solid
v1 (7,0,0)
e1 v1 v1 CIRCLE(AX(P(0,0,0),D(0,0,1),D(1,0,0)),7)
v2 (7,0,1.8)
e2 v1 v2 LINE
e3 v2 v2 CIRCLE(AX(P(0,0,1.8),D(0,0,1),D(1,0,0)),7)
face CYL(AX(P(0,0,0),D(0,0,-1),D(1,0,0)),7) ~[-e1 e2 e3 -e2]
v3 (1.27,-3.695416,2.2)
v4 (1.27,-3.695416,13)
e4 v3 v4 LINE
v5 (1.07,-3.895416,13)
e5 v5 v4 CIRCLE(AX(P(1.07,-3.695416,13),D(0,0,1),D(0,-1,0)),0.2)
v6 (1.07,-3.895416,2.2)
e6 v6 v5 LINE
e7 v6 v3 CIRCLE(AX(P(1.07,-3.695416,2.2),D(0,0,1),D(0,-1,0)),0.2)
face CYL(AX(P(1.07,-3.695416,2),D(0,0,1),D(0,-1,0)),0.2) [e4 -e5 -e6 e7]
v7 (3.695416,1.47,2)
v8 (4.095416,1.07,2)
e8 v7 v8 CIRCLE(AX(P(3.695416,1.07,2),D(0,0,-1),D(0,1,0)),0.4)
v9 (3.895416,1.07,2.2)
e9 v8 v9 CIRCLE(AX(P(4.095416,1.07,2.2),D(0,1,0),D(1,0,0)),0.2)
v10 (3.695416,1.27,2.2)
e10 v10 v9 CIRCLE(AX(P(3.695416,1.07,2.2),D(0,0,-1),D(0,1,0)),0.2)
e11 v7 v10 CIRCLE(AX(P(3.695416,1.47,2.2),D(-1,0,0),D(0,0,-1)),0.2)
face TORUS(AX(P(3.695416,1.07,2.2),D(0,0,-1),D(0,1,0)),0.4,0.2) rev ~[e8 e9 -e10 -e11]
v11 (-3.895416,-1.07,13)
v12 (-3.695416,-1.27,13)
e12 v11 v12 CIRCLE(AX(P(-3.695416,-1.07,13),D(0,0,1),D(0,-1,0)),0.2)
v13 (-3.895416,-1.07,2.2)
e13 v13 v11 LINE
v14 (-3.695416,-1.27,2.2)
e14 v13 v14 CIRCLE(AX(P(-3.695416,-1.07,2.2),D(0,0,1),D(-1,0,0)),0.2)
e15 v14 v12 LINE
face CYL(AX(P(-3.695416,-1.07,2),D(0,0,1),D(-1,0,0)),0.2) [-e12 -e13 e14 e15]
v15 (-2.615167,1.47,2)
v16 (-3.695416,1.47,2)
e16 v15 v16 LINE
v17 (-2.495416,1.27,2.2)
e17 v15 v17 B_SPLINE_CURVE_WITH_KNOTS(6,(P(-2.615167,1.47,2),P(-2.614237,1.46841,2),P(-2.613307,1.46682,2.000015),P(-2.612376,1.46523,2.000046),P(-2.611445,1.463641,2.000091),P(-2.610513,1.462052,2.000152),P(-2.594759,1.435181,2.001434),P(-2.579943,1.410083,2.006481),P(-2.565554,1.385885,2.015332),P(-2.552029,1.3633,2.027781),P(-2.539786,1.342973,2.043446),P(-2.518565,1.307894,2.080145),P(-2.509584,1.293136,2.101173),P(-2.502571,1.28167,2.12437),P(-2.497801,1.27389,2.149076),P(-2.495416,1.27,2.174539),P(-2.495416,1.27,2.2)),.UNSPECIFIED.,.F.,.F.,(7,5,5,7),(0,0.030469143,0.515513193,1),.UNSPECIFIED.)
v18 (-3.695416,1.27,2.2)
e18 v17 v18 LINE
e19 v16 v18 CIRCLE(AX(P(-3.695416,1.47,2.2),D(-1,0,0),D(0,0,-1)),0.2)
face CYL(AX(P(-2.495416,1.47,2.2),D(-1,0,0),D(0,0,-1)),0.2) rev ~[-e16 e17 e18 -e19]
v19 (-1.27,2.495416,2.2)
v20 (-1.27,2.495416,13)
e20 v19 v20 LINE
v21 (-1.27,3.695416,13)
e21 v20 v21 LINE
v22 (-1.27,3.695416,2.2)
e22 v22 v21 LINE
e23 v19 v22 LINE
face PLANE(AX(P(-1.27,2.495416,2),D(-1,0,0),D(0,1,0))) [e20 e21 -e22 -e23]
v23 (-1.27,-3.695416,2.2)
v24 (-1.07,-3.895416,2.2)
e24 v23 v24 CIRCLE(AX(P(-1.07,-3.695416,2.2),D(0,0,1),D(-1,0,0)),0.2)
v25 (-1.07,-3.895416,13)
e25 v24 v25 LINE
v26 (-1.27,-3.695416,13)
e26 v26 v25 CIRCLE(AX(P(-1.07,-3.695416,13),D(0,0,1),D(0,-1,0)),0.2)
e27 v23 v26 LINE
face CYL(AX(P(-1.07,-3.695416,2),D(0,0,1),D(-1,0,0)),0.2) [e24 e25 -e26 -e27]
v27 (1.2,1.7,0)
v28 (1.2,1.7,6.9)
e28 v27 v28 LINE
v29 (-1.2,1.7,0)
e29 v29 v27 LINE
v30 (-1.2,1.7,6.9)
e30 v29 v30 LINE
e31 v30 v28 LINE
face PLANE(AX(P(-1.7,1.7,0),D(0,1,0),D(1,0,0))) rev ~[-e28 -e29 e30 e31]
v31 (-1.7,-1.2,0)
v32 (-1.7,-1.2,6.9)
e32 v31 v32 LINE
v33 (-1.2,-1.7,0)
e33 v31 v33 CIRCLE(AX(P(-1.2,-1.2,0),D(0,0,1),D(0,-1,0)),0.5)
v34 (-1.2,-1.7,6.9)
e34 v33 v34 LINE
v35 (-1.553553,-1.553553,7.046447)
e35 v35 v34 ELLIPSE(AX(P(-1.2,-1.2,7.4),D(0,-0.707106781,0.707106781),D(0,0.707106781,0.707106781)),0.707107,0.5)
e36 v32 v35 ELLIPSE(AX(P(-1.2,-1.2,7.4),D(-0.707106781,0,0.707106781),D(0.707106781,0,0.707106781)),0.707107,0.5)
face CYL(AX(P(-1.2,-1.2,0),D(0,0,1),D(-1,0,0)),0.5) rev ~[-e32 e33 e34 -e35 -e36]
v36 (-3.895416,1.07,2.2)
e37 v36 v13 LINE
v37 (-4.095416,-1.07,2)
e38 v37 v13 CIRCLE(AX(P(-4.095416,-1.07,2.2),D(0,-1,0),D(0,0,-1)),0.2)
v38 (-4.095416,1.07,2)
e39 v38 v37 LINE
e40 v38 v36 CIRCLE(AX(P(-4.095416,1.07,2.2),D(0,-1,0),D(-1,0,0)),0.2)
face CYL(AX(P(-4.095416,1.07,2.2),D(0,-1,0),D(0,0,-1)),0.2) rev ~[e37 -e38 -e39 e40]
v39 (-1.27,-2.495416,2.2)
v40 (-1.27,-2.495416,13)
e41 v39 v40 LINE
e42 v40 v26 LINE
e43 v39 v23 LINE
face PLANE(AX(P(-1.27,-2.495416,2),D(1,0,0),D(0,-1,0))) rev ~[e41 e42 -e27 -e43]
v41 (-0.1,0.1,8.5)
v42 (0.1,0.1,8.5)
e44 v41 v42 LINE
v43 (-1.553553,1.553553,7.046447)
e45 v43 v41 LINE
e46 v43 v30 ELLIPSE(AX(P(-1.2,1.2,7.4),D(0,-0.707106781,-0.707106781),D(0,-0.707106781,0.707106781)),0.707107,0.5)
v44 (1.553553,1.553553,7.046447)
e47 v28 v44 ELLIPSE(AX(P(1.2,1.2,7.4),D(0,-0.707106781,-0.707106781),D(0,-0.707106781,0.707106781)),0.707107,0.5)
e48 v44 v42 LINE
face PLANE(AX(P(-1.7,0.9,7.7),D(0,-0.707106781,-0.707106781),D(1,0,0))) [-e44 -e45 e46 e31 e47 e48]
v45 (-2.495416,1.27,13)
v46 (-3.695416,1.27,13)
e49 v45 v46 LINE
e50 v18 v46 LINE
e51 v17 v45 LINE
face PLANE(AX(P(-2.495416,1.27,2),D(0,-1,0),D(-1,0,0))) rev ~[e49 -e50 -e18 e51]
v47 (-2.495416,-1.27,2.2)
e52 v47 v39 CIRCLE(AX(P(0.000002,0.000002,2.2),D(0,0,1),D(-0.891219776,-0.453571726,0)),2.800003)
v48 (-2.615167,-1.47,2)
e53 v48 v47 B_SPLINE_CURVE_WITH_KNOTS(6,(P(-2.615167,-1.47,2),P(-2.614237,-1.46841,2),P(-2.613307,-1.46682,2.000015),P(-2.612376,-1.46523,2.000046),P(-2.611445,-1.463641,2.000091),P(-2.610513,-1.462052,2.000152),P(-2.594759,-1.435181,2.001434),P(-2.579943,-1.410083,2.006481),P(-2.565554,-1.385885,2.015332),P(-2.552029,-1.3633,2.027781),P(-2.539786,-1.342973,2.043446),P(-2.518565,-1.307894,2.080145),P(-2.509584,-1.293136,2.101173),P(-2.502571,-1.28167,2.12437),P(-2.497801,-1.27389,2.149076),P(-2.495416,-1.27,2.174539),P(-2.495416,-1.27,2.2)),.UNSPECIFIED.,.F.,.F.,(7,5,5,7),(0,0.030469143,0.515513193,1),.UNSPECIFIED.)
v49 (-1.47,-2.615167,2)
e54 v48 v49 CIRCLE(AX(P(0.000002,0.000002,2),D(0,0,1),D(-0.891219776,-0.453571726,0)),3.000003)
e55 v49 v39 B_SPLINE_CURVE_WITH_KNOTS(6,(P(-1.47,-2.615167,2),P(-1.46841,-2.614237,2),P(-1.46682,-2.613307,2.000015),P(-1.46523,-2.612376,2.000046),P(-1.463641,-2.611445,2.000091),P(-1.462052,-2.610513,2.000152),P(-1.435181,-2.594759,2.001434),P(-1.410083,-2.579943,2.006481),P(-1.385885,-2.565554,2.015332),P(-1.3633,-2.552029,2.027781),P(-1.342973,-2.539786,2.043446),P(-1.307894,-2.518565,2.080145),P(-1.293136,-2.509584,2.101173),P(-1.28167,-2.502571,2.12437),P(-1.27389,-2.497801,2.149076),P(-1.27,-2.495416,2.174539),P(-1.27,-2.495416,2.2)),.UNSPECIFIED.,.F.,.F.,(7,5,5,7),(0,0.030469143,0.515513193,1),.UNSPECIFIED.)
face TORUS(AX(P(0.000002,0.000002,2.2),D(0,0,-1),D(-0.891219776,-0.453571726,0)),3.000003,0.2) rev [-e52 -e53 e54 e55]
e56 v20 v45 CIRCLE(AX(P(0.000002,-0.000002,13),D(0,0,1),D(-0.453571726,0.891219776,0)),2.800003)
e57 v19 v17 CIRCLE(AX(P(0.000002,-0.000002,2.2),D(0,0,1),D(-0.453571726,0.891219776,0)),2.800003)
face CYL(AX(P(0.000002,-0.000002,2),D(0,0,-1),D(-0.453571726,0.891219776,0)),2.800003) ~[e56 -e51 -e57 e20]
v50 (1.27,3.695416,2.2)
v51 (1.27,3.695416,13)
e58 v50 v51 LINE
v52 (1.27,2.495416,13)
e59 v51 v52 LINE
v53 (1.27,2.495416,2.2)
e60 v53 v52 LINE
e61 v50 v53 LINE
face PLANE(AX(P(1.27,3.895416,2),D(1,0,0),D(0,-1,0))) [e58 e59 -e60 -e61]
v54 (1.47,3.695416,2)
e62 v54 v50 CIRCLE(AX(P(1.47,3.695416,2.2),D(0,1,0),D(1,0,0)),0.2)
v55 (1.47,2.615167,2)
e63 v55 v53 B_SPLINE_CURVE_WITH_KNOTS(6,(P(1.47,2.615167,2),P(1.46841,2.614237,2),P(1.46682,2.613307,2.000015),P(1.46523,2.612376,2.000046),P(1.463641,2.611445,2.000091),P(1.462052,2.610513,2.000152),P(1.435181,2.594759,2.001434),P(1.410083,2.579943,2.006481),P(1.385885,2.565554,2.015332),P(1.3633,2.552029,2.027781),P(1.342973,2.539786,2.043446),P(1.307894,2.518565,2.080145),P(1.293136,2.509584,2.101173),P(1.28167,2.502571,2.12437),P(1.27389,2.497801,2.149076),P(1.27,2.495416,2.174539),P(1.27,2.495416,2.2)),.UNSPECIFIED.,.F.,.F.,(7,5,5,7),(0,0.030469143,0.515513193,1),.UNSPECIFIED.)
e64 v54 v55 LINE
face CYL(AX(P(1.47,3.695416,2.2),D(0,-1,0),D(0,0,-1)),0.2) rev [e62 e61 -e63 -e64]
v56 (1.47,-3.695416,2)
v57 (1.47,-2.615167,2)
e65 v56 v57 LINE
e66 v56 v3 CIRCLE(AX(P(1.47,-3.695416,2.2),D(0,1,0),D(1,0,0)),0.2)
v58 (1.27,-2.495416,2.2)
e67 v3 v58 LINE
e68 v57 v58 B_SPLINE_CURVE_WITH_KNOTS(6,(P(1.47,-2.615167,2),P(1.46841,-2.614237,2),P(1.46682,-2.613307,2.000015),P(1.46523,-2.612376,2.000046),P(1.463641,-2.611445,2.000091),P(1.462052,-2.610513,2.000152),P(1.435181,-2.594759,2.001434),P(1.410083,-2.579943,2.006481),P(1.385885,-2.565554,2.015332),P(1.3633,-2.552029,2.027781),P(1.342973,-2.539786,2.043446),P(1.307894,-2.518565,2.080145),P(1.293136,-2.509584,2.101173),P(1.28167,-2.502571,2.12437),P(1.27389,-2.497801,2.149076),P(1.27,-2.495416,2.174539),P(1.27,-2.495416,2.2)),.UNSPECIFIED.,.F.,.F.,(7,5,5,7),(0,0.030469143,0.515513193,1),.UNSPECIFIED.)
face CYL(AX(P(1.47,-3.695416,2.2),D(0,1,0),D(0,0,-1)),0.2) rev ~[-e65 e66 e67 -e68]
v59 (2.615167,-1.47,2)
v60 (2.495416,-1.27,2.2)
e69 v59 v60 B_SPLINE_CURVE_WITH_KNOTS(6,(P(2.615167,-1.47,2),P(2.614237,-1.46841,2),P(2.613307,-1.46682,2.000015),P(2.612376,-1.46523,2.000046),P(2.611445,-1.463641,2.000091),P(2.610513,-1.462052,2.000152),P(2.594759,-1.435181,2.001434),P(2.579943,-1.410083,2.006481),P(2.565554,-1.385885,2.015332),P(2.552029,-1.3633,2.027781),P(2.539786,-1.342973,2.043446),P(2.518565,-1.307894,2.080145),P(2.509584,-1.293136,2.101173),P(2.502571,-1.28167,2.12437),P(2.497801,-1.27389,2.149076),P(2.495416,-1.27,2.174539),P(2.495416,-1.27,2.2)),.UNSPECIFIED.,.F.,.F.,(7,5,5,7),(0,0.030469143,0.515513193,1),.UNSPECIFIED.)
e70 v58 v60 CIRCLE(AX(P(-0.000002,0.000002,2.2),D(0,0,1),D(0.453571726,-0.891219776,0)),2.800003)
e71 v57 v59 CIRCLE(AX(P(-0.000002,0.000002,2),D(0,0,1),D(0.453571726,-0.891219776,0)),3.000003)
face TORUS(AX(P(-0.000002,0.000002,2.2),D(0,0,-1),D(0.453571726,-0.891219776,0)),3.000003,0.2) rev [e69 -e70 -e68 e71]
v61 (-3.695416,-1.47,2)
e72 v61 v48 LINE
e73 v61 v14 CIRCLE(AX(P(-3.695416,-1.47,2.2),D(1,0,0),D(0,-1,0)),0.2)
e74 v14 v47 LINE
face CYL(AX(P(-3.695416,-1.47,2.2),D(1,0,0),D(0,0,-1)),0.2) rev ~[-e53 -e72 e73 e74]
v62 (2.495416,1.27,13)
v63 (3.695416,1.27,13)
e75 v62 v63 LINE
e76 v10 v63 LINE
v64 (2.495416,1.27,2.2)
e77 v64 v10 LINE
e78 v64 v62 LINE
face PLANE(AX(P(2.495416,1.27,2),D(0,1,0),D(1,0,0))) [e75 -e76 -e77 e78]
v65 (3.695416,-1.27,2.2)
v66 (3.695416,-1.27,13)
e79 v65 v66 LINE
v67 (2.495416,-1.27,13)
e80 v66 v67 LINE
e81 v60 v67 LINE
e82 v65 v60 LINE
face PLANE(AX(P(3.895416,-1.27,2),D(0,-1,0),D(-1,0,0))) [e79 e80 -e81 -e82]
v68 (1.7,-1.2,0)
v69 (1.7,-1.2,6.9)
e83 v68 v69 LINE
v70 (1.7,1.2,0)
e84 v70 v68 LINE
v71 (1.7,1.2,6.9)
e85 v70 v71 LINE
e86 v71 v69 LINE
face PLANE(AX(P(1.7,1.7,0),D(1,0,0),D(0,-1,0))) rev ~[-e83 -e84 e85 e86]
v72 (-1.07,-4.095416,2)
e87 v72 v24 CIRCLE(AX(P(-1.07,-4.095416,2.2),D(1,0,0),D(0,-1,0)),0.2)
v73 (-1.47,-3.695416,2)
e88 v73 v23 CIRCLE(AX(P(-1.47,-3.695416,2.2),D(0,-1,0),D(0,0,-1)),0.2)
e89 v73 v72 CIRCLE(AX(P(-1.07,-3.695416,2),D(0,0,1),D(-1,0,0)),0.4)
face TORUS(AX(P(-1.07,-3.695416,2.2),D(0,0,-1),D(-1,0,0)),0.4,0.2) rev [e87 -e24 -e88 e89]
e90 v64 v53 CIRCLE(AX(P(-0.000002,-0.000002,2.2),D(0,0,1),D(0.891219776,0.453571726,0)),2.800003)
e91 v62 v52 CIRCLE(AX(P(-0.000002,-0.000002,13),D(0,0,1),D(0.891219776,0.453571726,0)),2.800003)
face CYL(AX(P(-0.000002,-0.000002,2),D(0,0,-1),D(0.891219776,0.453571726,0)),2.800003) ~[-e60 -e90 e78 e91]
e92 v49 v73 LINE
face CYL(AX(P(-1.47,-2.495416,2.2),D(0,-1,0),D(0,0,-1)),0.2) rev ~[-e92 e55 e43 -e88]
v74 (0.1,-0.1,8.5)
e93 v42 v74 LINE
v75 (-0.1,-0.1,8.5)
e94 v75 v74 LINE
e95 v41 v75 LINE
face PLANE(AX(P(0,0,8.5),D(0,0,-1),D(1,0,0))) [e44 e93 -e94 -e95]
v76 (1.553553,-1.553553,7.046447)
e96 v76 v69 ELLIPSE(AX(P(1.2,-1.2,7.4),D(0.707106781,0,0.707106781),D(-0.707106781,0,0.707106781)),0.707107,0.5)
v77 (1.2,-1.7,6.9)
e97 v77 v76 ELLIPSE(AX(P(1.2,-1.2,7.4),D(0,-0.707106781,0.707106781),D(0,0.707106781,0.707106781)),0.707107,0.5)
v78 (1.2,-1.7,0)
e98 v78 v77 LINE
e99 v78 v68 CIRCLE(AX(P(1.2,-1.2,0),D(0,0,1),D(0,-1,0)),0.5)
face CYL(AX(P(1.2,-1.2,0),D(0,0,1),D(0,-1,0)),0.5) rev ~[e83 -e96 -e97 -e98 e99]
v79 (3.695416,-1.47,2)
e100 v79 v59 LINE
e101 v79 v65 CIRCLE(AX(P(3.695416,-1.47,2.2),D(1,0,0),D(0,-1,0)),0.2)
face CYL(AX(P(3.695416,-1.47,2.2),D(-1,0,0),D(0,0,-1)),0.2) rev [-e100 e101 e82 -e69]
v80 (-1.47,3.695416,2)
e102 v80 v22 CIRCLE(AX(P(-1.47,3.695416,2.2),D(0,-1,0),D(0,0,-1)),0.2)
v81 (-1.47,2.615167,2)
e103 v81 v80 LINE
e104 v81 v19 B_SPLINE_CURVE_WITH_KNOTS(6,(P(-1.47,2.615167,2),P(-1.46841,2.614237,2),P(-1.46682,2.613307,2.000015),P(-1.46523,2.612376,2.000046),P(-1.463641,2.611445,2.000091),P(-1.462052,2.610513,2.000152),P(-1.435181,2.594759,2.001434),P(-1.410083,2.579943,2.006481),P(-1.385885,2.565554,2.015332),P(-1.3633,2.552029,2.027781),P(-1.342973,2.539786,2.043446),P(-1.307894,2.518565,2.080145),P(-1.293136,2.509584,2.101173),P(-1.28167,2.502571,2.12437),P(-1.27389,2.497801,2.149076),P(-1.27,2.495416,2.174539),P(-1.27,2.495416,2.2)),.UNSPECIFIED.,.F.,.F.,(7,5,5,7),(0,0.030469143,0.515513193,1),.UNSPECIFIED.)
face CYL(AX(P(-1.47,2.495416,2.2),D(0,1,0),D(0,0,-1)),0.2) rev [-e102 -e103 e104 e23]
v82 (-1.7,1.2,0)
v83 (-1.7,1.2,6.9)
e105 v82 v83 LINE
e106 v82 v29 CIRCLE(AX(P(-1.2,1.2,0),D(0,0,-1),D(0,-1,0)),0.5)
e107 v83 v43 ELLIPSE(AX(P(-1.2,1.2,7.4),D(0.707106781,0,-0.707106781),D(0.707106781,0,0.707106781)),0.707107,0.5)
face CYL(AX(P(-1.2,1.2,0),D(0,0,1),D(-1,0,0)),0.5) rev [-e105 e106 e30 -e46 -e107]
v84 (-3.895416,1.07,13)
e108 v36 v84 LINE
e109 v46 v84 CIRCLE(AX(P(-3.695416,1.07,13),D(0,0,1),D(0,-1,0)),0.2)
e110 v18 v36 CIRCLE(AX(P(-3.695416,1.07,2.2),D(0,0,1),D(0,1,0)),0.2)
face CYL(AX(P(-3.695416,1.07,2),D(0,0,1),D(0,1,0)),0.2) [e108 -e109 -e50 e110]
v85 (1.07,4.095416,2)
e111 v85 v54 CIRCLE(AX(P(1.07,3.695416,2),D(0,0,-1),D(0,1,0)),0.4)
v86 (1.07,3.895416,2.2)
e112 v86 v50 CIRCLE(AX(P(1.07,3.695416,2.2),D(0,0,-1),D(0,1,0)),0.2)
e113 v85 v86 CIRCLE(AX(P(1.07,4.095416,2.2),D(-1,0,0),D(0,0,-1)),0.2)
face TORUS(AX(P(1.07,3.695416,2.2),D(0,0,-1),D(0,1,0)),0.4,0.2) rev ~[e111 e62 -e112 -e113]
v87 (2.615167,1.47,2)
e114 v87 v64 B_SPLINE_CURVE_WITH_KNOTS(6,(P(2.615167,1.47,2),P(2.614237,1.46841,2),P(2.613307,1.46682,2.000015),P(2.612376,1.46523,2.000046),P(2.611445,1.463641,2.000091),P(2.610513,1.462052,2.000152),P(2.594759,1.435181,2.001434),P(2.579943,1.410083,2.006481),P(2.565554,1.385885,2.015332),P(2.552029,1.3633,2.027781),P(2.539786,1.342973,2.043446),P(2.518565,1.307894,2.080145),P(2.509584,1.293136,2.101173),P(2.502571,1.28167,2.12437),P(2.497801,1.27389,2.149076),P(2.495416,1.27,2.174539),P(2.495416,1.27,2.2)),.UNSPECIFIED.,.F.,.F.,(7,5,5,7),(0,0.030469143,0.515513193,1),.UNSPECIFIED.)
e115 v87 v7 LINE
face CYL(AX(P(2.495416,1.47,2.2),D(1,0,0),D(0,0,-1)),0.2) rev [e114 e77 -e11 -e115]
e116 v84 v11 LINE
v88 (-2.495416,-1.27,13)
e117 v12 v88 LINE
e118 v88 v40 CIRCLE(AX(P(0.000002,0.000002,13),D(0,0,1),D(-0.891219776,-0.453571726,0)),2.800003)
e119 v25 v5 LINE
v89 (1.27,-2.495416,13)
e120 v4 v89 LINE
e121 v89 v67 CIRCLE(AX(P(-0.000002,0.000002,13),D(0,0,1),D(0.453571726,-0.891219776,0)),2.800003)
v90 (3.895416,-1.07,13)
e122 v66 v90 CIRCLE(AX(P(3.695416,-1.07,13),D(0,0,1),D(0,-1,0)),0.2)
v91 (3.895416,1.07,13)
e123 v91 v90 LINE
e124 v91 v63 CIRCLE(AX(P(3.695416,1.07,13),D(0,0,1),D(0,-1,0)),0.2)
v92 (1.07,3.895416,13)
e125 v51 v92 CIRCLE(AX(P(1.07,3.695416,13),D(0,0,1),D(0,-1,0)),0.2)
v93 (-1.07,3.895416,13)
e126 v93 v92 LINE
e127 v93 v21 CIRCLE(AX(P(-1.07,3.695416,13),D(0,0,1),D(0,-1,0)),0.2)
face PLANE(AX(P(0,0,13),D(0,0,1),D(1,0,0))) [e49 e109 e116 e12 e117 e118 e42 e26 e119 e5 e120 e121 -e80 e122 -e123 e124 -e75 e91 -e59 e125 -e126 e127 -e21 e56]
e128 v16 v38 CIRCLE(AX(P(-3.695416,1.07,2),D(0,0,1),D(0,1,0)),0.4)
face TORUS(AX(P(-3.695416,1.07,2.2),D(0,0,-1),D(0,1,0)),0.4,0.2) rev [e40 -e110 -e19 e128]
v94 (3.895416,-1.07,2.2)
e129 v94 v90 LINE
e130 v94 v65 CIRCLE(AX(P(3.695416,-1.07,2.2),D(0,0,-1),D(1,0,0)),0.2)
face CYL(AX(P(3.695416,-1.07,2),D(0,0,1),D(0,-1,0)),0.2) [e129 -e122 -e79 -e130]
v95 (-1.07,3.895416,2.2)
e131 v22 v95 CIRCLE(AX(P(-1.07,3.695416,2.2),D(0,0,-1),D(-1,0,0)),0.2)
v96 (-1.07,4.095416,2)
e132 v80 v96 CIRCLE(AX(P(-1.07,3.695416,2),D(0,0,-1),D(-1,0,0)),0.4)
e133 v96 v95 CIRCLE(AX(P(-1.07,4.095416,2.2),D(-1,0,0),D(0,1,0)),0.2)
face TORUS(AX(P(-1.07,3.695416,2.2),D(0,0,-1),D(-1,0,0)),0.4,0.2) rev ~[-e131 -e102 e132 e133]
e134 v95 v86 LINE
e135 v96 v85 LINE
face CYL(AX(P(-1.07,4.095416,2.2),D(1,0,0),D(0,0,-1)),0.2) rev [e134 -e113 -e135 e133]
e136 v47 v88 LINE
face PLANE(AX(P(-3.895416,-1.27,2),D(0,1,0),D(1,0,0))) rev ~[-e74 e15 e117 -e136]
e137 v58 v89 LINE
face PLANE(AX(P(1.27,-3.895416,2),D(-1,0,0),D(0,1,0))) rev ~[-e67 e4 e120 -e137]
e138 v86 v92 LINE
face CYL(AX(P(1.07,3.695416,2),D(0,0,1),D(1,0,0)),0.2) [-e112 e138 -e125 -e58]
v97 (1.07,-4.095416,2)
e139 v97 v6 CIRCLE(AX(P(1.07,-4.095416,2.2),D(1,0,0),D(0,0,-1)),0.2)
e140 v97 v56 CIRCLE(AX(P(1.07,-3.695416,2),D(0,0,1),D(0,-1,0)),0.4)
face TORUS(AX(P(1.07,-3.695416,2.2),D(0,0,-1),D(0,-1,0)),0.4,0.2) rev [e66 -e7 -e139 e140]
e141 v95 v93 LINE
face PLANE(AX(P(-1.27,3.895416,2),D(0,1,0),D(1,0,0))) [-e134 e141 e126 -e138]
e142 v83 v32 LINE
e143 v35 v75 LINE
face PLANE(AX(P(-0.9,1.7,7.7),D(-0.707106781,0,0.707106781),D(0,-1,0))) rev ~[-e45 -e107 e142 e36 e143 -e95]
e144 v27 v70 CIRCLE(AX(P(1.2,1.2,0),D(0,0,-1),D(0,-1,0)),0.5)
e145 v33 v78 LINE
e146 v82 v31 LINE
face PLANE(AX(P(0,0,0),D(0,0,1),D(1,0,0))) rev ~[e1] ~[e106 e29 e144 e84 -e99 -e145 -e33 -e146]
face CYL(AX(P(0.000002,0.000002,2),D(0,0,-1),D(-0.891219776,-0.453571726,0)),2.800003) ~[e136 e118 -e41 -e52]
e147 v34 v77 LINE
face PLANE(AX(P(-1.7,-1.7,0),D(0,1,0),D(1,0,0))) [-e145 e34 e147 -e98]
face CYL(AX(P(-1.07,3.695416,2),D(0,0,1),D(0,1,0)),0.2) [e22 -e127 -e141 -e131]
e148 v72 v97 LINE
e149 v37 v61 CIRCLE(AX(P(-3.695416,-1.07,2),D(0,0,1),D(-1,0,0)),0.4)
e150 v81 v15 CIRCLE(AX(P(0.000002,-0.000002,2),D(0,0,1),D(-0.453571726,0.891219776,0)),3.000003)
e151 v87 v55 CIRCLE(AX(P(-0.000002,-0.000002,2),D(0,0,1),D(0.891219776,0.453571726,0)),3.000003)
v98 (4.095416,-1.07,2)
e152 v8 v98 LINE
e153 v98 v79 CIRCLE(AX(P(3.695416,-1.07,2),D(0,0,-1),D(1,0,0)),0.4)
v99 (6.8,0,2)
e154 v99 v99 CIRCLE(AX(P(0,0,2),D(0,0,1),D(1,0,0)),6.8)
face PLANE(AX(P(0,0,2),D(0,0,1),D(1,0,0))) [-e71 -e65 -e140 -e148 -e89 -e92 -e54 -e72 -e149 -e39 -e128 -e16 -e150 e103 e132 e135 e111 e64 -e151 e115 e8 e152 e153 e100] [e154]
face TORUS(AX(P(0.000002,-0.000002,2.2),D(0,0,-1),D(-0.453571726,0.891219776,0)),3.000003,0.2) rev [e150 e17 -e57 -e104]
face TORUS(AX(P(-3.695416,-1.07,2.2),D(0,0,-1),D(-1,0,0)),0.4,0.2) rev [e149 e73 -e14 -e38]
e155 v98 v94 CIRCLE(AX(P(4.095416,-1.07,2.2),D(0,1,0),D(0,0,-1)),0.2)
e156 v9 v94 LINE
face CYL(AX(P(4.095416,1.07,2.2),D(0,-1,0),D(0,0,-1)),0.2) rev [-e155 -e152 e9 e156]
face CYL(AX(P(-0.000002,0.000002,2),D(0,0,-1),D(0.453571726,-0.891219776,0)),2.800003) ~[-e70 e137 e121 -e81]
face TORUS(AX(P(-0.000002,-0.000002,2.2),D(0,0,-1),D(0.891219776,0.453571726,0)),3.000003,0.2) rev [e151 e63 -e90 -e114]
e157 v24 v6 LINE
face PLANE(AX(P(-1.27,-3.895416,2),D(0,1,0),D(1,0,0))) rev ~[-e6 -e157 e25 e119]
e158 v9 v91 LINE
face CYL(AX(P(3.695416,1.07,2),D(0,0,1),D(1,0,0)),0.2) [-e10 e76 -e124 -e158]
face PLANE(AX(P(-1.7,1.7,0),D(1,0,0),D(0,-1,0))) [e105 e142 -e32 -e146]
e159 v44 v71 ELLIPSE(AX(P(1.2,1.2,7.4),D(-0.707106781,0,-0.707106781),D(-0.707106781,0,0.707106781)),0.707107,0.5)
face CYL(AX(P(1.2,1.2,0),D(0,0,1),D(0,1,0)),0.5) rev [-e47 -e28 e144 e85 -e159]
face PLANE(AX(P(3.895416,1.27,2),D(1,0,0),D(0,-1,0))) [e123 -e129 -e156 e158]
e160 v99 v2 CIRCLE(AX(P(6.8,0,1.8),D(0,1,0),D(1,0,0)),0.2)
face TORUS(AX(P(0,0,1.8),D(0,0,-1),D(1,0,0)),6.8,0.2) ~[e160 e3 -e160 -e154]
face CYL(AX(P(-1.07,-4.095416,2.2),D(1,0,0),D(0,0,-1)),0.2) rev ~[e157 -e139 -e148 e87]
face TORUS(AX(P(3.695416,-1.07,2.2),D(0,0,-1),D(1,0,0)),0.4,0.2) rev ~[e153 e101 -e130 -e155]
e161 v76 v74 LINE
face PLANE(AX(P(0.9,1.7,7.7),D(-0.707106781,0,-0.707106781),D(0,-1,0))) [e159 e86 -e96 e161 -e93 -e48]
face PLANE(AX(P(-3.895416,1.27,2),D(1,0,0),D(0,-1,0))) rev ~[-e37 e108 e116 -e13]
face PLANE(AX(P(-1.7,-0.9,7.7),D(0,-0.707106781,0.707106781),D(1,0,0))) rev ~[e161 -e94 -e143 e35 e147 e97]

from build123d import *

# Parameters (mm, degrees)
SKETCH_R     = 7
PAD_DEPTH    = 2
PAD001_DEPTH = 11
SKETCH002_W  = 3.4
SKETCH002_H  = 3.4
POCKET_DEPTH = 8.5
FILLET_R     = 0.2
FILLET001_R  = 0.2
CHAMFER_SIZE = 1.6
FILLET002_R  = 0.5


with BuildPart() as part:
    # Sketch → Pad (new body)
    with BuildSketch(Plane.XY):
        Circle(SKETCH_R)
    extrude(amount=PAD_DEPTH)

    # Sketch001 (on Face3 of Pad) → Pad001 (join)
    with BuildSketch(Plane.XY.offset(2)):
        with BuildLine():
            ThreePointArc((-1.27, 2.495416), (-1.979899, 1.979899), (-2.495416, 1.27))
            Line((-2.495416, 1.27), (-3.895416, 1.27))
            Line((-3.895416, 1.27), (-3.895416, -1.27))
            Line((-3.895416, -1.27), (-2.495416, -1.27))
            ThreePointArc((-2.495416, -1.27), (-1.979899, -1.979899), (-1.27, -2.495416))
            Line((-1.27, -2.495416), (-1.27, -3.895416))
            Line((-1.27, -3.895416), (1.27, -3.895416))
            Line((1.27, -3.895416), (1.27, -2.495416))
            ThreePointArc((1.27, -2.495416), (1.979899, -1.979899), (2.495416, -1.27))
            Line((3.895416, -1.27), (2.495416, -1.27))
            Line((3.895416, 1.27), (3.895416, -1.27))
            Line((2.495416, 1.27), (3.895416, 1.27))
            ThreePointArc((2.495416, 1.27), (1.979899, 1.979899), (1.27, 2.495416))
            Line((1.27, 3.895416), (1.27, 2.495416))
            Line((-1.27, 3.895416), (1.27, 3.895416))
            Line((-1.27, 2.495416), (-1.27, 3.895416))
        make_face()
    extrude(amount=PAD001_DEPTH)

    # Sketch002 (on Face2 of Pad001) → Pocket (cut)
    with BuildSketch(Plane(origin=(0, 0, 0), x_dir=(1, 0, 0), z_dir=(0, 0, -1))):
        Rectangle(SKETCH002_W, SKETCH002_H)
    extrude(amount=-POCKET_DEPTH, mode=Mode.SUBTRACT)

    # Fillet
    fillet_edges = [part.edges().sort_by_distance(p)[0] for p in [
        (-3.895416, -1.27, 7.5),
        (-1.27, -3.895416, 7.5),
        (1.27, -3.895416, 7.5),
        (3.895416, -1.27, 7.5),
        (3.895416, 1.27, 7.5),
        (1.27, 3.895416, 7.5),
        (-1.27, 3.895416, 7.5),
        (-3.895416, 1.27, 7.5),
    ]]
    fillet(fillet_edges, radius=FILLET_R)

    # Fillet001
    fillet001_edges = [part.edges().sort_by_distance(p)[0] for p in [
        (1.27, 3.095416, 2),
        (1.211421, 3.836837, 2),
        (1.979899, 1.979899, 2),
        (0, 3.895416, 2),
        (3.095416, 1.27, 2),
        (-1.211421, 3.836837, 2),
        (3.836837, 1.211421, 2),
        (-1.27, 3.095416, 2),
        (3.895416, 0, 2),
        (-1.979899, 1.979899, 2),
        (3.836837, -1.211421, 2),
        (-3.095416, 1.27, 2),
        (3.095416, -1.27, 2),
        (-3.836837, 1.211421, 2),
        (1.979899, -1.979899, 2),
        (-3.895416, 0, 2),
        (1.27, -3.095416, 2),
        (-3.836837, -1.211421, 2),
        (1.211421, -3.836837, 2),
        (-3.095416, -1.27, 2),
        (0, -3.895416, 2),
        (-1.979899, -1.979899, 2),
        (-1.211421, -3.836837, 2),
        (-1.27, -3.095416, 2),
        (-7, 0, 2),
    ]]
    fillet(fillet001_edges, radius=FILLET001_R)

    # Chamfer
    chamfer_edges = [part.edges().sort_by_distance(p)[0] for p in [
        (-1.7, 0, 8.5),
        (0, -1.7, 8.5),
        (1.7, 0, 8.5),
        (0, 1.7, 8.5),
    ]]
    chamfer(chamfer_edges, length=CHAMFER_SIZE)

    # Fillet002
    fillet002_edges = [part.edges().sort_by_distance(p)[0] for p in [
        (-1.7, 1.7, 3.45),
        (-1.7, -1.7, 3.45),
        (1.7, -1.7, 3.45),
        (1.7, 1.7, 3.45),
    ]]
    fillet(fillet002_edges, radius=FILLET002_R)


solid = part.part
